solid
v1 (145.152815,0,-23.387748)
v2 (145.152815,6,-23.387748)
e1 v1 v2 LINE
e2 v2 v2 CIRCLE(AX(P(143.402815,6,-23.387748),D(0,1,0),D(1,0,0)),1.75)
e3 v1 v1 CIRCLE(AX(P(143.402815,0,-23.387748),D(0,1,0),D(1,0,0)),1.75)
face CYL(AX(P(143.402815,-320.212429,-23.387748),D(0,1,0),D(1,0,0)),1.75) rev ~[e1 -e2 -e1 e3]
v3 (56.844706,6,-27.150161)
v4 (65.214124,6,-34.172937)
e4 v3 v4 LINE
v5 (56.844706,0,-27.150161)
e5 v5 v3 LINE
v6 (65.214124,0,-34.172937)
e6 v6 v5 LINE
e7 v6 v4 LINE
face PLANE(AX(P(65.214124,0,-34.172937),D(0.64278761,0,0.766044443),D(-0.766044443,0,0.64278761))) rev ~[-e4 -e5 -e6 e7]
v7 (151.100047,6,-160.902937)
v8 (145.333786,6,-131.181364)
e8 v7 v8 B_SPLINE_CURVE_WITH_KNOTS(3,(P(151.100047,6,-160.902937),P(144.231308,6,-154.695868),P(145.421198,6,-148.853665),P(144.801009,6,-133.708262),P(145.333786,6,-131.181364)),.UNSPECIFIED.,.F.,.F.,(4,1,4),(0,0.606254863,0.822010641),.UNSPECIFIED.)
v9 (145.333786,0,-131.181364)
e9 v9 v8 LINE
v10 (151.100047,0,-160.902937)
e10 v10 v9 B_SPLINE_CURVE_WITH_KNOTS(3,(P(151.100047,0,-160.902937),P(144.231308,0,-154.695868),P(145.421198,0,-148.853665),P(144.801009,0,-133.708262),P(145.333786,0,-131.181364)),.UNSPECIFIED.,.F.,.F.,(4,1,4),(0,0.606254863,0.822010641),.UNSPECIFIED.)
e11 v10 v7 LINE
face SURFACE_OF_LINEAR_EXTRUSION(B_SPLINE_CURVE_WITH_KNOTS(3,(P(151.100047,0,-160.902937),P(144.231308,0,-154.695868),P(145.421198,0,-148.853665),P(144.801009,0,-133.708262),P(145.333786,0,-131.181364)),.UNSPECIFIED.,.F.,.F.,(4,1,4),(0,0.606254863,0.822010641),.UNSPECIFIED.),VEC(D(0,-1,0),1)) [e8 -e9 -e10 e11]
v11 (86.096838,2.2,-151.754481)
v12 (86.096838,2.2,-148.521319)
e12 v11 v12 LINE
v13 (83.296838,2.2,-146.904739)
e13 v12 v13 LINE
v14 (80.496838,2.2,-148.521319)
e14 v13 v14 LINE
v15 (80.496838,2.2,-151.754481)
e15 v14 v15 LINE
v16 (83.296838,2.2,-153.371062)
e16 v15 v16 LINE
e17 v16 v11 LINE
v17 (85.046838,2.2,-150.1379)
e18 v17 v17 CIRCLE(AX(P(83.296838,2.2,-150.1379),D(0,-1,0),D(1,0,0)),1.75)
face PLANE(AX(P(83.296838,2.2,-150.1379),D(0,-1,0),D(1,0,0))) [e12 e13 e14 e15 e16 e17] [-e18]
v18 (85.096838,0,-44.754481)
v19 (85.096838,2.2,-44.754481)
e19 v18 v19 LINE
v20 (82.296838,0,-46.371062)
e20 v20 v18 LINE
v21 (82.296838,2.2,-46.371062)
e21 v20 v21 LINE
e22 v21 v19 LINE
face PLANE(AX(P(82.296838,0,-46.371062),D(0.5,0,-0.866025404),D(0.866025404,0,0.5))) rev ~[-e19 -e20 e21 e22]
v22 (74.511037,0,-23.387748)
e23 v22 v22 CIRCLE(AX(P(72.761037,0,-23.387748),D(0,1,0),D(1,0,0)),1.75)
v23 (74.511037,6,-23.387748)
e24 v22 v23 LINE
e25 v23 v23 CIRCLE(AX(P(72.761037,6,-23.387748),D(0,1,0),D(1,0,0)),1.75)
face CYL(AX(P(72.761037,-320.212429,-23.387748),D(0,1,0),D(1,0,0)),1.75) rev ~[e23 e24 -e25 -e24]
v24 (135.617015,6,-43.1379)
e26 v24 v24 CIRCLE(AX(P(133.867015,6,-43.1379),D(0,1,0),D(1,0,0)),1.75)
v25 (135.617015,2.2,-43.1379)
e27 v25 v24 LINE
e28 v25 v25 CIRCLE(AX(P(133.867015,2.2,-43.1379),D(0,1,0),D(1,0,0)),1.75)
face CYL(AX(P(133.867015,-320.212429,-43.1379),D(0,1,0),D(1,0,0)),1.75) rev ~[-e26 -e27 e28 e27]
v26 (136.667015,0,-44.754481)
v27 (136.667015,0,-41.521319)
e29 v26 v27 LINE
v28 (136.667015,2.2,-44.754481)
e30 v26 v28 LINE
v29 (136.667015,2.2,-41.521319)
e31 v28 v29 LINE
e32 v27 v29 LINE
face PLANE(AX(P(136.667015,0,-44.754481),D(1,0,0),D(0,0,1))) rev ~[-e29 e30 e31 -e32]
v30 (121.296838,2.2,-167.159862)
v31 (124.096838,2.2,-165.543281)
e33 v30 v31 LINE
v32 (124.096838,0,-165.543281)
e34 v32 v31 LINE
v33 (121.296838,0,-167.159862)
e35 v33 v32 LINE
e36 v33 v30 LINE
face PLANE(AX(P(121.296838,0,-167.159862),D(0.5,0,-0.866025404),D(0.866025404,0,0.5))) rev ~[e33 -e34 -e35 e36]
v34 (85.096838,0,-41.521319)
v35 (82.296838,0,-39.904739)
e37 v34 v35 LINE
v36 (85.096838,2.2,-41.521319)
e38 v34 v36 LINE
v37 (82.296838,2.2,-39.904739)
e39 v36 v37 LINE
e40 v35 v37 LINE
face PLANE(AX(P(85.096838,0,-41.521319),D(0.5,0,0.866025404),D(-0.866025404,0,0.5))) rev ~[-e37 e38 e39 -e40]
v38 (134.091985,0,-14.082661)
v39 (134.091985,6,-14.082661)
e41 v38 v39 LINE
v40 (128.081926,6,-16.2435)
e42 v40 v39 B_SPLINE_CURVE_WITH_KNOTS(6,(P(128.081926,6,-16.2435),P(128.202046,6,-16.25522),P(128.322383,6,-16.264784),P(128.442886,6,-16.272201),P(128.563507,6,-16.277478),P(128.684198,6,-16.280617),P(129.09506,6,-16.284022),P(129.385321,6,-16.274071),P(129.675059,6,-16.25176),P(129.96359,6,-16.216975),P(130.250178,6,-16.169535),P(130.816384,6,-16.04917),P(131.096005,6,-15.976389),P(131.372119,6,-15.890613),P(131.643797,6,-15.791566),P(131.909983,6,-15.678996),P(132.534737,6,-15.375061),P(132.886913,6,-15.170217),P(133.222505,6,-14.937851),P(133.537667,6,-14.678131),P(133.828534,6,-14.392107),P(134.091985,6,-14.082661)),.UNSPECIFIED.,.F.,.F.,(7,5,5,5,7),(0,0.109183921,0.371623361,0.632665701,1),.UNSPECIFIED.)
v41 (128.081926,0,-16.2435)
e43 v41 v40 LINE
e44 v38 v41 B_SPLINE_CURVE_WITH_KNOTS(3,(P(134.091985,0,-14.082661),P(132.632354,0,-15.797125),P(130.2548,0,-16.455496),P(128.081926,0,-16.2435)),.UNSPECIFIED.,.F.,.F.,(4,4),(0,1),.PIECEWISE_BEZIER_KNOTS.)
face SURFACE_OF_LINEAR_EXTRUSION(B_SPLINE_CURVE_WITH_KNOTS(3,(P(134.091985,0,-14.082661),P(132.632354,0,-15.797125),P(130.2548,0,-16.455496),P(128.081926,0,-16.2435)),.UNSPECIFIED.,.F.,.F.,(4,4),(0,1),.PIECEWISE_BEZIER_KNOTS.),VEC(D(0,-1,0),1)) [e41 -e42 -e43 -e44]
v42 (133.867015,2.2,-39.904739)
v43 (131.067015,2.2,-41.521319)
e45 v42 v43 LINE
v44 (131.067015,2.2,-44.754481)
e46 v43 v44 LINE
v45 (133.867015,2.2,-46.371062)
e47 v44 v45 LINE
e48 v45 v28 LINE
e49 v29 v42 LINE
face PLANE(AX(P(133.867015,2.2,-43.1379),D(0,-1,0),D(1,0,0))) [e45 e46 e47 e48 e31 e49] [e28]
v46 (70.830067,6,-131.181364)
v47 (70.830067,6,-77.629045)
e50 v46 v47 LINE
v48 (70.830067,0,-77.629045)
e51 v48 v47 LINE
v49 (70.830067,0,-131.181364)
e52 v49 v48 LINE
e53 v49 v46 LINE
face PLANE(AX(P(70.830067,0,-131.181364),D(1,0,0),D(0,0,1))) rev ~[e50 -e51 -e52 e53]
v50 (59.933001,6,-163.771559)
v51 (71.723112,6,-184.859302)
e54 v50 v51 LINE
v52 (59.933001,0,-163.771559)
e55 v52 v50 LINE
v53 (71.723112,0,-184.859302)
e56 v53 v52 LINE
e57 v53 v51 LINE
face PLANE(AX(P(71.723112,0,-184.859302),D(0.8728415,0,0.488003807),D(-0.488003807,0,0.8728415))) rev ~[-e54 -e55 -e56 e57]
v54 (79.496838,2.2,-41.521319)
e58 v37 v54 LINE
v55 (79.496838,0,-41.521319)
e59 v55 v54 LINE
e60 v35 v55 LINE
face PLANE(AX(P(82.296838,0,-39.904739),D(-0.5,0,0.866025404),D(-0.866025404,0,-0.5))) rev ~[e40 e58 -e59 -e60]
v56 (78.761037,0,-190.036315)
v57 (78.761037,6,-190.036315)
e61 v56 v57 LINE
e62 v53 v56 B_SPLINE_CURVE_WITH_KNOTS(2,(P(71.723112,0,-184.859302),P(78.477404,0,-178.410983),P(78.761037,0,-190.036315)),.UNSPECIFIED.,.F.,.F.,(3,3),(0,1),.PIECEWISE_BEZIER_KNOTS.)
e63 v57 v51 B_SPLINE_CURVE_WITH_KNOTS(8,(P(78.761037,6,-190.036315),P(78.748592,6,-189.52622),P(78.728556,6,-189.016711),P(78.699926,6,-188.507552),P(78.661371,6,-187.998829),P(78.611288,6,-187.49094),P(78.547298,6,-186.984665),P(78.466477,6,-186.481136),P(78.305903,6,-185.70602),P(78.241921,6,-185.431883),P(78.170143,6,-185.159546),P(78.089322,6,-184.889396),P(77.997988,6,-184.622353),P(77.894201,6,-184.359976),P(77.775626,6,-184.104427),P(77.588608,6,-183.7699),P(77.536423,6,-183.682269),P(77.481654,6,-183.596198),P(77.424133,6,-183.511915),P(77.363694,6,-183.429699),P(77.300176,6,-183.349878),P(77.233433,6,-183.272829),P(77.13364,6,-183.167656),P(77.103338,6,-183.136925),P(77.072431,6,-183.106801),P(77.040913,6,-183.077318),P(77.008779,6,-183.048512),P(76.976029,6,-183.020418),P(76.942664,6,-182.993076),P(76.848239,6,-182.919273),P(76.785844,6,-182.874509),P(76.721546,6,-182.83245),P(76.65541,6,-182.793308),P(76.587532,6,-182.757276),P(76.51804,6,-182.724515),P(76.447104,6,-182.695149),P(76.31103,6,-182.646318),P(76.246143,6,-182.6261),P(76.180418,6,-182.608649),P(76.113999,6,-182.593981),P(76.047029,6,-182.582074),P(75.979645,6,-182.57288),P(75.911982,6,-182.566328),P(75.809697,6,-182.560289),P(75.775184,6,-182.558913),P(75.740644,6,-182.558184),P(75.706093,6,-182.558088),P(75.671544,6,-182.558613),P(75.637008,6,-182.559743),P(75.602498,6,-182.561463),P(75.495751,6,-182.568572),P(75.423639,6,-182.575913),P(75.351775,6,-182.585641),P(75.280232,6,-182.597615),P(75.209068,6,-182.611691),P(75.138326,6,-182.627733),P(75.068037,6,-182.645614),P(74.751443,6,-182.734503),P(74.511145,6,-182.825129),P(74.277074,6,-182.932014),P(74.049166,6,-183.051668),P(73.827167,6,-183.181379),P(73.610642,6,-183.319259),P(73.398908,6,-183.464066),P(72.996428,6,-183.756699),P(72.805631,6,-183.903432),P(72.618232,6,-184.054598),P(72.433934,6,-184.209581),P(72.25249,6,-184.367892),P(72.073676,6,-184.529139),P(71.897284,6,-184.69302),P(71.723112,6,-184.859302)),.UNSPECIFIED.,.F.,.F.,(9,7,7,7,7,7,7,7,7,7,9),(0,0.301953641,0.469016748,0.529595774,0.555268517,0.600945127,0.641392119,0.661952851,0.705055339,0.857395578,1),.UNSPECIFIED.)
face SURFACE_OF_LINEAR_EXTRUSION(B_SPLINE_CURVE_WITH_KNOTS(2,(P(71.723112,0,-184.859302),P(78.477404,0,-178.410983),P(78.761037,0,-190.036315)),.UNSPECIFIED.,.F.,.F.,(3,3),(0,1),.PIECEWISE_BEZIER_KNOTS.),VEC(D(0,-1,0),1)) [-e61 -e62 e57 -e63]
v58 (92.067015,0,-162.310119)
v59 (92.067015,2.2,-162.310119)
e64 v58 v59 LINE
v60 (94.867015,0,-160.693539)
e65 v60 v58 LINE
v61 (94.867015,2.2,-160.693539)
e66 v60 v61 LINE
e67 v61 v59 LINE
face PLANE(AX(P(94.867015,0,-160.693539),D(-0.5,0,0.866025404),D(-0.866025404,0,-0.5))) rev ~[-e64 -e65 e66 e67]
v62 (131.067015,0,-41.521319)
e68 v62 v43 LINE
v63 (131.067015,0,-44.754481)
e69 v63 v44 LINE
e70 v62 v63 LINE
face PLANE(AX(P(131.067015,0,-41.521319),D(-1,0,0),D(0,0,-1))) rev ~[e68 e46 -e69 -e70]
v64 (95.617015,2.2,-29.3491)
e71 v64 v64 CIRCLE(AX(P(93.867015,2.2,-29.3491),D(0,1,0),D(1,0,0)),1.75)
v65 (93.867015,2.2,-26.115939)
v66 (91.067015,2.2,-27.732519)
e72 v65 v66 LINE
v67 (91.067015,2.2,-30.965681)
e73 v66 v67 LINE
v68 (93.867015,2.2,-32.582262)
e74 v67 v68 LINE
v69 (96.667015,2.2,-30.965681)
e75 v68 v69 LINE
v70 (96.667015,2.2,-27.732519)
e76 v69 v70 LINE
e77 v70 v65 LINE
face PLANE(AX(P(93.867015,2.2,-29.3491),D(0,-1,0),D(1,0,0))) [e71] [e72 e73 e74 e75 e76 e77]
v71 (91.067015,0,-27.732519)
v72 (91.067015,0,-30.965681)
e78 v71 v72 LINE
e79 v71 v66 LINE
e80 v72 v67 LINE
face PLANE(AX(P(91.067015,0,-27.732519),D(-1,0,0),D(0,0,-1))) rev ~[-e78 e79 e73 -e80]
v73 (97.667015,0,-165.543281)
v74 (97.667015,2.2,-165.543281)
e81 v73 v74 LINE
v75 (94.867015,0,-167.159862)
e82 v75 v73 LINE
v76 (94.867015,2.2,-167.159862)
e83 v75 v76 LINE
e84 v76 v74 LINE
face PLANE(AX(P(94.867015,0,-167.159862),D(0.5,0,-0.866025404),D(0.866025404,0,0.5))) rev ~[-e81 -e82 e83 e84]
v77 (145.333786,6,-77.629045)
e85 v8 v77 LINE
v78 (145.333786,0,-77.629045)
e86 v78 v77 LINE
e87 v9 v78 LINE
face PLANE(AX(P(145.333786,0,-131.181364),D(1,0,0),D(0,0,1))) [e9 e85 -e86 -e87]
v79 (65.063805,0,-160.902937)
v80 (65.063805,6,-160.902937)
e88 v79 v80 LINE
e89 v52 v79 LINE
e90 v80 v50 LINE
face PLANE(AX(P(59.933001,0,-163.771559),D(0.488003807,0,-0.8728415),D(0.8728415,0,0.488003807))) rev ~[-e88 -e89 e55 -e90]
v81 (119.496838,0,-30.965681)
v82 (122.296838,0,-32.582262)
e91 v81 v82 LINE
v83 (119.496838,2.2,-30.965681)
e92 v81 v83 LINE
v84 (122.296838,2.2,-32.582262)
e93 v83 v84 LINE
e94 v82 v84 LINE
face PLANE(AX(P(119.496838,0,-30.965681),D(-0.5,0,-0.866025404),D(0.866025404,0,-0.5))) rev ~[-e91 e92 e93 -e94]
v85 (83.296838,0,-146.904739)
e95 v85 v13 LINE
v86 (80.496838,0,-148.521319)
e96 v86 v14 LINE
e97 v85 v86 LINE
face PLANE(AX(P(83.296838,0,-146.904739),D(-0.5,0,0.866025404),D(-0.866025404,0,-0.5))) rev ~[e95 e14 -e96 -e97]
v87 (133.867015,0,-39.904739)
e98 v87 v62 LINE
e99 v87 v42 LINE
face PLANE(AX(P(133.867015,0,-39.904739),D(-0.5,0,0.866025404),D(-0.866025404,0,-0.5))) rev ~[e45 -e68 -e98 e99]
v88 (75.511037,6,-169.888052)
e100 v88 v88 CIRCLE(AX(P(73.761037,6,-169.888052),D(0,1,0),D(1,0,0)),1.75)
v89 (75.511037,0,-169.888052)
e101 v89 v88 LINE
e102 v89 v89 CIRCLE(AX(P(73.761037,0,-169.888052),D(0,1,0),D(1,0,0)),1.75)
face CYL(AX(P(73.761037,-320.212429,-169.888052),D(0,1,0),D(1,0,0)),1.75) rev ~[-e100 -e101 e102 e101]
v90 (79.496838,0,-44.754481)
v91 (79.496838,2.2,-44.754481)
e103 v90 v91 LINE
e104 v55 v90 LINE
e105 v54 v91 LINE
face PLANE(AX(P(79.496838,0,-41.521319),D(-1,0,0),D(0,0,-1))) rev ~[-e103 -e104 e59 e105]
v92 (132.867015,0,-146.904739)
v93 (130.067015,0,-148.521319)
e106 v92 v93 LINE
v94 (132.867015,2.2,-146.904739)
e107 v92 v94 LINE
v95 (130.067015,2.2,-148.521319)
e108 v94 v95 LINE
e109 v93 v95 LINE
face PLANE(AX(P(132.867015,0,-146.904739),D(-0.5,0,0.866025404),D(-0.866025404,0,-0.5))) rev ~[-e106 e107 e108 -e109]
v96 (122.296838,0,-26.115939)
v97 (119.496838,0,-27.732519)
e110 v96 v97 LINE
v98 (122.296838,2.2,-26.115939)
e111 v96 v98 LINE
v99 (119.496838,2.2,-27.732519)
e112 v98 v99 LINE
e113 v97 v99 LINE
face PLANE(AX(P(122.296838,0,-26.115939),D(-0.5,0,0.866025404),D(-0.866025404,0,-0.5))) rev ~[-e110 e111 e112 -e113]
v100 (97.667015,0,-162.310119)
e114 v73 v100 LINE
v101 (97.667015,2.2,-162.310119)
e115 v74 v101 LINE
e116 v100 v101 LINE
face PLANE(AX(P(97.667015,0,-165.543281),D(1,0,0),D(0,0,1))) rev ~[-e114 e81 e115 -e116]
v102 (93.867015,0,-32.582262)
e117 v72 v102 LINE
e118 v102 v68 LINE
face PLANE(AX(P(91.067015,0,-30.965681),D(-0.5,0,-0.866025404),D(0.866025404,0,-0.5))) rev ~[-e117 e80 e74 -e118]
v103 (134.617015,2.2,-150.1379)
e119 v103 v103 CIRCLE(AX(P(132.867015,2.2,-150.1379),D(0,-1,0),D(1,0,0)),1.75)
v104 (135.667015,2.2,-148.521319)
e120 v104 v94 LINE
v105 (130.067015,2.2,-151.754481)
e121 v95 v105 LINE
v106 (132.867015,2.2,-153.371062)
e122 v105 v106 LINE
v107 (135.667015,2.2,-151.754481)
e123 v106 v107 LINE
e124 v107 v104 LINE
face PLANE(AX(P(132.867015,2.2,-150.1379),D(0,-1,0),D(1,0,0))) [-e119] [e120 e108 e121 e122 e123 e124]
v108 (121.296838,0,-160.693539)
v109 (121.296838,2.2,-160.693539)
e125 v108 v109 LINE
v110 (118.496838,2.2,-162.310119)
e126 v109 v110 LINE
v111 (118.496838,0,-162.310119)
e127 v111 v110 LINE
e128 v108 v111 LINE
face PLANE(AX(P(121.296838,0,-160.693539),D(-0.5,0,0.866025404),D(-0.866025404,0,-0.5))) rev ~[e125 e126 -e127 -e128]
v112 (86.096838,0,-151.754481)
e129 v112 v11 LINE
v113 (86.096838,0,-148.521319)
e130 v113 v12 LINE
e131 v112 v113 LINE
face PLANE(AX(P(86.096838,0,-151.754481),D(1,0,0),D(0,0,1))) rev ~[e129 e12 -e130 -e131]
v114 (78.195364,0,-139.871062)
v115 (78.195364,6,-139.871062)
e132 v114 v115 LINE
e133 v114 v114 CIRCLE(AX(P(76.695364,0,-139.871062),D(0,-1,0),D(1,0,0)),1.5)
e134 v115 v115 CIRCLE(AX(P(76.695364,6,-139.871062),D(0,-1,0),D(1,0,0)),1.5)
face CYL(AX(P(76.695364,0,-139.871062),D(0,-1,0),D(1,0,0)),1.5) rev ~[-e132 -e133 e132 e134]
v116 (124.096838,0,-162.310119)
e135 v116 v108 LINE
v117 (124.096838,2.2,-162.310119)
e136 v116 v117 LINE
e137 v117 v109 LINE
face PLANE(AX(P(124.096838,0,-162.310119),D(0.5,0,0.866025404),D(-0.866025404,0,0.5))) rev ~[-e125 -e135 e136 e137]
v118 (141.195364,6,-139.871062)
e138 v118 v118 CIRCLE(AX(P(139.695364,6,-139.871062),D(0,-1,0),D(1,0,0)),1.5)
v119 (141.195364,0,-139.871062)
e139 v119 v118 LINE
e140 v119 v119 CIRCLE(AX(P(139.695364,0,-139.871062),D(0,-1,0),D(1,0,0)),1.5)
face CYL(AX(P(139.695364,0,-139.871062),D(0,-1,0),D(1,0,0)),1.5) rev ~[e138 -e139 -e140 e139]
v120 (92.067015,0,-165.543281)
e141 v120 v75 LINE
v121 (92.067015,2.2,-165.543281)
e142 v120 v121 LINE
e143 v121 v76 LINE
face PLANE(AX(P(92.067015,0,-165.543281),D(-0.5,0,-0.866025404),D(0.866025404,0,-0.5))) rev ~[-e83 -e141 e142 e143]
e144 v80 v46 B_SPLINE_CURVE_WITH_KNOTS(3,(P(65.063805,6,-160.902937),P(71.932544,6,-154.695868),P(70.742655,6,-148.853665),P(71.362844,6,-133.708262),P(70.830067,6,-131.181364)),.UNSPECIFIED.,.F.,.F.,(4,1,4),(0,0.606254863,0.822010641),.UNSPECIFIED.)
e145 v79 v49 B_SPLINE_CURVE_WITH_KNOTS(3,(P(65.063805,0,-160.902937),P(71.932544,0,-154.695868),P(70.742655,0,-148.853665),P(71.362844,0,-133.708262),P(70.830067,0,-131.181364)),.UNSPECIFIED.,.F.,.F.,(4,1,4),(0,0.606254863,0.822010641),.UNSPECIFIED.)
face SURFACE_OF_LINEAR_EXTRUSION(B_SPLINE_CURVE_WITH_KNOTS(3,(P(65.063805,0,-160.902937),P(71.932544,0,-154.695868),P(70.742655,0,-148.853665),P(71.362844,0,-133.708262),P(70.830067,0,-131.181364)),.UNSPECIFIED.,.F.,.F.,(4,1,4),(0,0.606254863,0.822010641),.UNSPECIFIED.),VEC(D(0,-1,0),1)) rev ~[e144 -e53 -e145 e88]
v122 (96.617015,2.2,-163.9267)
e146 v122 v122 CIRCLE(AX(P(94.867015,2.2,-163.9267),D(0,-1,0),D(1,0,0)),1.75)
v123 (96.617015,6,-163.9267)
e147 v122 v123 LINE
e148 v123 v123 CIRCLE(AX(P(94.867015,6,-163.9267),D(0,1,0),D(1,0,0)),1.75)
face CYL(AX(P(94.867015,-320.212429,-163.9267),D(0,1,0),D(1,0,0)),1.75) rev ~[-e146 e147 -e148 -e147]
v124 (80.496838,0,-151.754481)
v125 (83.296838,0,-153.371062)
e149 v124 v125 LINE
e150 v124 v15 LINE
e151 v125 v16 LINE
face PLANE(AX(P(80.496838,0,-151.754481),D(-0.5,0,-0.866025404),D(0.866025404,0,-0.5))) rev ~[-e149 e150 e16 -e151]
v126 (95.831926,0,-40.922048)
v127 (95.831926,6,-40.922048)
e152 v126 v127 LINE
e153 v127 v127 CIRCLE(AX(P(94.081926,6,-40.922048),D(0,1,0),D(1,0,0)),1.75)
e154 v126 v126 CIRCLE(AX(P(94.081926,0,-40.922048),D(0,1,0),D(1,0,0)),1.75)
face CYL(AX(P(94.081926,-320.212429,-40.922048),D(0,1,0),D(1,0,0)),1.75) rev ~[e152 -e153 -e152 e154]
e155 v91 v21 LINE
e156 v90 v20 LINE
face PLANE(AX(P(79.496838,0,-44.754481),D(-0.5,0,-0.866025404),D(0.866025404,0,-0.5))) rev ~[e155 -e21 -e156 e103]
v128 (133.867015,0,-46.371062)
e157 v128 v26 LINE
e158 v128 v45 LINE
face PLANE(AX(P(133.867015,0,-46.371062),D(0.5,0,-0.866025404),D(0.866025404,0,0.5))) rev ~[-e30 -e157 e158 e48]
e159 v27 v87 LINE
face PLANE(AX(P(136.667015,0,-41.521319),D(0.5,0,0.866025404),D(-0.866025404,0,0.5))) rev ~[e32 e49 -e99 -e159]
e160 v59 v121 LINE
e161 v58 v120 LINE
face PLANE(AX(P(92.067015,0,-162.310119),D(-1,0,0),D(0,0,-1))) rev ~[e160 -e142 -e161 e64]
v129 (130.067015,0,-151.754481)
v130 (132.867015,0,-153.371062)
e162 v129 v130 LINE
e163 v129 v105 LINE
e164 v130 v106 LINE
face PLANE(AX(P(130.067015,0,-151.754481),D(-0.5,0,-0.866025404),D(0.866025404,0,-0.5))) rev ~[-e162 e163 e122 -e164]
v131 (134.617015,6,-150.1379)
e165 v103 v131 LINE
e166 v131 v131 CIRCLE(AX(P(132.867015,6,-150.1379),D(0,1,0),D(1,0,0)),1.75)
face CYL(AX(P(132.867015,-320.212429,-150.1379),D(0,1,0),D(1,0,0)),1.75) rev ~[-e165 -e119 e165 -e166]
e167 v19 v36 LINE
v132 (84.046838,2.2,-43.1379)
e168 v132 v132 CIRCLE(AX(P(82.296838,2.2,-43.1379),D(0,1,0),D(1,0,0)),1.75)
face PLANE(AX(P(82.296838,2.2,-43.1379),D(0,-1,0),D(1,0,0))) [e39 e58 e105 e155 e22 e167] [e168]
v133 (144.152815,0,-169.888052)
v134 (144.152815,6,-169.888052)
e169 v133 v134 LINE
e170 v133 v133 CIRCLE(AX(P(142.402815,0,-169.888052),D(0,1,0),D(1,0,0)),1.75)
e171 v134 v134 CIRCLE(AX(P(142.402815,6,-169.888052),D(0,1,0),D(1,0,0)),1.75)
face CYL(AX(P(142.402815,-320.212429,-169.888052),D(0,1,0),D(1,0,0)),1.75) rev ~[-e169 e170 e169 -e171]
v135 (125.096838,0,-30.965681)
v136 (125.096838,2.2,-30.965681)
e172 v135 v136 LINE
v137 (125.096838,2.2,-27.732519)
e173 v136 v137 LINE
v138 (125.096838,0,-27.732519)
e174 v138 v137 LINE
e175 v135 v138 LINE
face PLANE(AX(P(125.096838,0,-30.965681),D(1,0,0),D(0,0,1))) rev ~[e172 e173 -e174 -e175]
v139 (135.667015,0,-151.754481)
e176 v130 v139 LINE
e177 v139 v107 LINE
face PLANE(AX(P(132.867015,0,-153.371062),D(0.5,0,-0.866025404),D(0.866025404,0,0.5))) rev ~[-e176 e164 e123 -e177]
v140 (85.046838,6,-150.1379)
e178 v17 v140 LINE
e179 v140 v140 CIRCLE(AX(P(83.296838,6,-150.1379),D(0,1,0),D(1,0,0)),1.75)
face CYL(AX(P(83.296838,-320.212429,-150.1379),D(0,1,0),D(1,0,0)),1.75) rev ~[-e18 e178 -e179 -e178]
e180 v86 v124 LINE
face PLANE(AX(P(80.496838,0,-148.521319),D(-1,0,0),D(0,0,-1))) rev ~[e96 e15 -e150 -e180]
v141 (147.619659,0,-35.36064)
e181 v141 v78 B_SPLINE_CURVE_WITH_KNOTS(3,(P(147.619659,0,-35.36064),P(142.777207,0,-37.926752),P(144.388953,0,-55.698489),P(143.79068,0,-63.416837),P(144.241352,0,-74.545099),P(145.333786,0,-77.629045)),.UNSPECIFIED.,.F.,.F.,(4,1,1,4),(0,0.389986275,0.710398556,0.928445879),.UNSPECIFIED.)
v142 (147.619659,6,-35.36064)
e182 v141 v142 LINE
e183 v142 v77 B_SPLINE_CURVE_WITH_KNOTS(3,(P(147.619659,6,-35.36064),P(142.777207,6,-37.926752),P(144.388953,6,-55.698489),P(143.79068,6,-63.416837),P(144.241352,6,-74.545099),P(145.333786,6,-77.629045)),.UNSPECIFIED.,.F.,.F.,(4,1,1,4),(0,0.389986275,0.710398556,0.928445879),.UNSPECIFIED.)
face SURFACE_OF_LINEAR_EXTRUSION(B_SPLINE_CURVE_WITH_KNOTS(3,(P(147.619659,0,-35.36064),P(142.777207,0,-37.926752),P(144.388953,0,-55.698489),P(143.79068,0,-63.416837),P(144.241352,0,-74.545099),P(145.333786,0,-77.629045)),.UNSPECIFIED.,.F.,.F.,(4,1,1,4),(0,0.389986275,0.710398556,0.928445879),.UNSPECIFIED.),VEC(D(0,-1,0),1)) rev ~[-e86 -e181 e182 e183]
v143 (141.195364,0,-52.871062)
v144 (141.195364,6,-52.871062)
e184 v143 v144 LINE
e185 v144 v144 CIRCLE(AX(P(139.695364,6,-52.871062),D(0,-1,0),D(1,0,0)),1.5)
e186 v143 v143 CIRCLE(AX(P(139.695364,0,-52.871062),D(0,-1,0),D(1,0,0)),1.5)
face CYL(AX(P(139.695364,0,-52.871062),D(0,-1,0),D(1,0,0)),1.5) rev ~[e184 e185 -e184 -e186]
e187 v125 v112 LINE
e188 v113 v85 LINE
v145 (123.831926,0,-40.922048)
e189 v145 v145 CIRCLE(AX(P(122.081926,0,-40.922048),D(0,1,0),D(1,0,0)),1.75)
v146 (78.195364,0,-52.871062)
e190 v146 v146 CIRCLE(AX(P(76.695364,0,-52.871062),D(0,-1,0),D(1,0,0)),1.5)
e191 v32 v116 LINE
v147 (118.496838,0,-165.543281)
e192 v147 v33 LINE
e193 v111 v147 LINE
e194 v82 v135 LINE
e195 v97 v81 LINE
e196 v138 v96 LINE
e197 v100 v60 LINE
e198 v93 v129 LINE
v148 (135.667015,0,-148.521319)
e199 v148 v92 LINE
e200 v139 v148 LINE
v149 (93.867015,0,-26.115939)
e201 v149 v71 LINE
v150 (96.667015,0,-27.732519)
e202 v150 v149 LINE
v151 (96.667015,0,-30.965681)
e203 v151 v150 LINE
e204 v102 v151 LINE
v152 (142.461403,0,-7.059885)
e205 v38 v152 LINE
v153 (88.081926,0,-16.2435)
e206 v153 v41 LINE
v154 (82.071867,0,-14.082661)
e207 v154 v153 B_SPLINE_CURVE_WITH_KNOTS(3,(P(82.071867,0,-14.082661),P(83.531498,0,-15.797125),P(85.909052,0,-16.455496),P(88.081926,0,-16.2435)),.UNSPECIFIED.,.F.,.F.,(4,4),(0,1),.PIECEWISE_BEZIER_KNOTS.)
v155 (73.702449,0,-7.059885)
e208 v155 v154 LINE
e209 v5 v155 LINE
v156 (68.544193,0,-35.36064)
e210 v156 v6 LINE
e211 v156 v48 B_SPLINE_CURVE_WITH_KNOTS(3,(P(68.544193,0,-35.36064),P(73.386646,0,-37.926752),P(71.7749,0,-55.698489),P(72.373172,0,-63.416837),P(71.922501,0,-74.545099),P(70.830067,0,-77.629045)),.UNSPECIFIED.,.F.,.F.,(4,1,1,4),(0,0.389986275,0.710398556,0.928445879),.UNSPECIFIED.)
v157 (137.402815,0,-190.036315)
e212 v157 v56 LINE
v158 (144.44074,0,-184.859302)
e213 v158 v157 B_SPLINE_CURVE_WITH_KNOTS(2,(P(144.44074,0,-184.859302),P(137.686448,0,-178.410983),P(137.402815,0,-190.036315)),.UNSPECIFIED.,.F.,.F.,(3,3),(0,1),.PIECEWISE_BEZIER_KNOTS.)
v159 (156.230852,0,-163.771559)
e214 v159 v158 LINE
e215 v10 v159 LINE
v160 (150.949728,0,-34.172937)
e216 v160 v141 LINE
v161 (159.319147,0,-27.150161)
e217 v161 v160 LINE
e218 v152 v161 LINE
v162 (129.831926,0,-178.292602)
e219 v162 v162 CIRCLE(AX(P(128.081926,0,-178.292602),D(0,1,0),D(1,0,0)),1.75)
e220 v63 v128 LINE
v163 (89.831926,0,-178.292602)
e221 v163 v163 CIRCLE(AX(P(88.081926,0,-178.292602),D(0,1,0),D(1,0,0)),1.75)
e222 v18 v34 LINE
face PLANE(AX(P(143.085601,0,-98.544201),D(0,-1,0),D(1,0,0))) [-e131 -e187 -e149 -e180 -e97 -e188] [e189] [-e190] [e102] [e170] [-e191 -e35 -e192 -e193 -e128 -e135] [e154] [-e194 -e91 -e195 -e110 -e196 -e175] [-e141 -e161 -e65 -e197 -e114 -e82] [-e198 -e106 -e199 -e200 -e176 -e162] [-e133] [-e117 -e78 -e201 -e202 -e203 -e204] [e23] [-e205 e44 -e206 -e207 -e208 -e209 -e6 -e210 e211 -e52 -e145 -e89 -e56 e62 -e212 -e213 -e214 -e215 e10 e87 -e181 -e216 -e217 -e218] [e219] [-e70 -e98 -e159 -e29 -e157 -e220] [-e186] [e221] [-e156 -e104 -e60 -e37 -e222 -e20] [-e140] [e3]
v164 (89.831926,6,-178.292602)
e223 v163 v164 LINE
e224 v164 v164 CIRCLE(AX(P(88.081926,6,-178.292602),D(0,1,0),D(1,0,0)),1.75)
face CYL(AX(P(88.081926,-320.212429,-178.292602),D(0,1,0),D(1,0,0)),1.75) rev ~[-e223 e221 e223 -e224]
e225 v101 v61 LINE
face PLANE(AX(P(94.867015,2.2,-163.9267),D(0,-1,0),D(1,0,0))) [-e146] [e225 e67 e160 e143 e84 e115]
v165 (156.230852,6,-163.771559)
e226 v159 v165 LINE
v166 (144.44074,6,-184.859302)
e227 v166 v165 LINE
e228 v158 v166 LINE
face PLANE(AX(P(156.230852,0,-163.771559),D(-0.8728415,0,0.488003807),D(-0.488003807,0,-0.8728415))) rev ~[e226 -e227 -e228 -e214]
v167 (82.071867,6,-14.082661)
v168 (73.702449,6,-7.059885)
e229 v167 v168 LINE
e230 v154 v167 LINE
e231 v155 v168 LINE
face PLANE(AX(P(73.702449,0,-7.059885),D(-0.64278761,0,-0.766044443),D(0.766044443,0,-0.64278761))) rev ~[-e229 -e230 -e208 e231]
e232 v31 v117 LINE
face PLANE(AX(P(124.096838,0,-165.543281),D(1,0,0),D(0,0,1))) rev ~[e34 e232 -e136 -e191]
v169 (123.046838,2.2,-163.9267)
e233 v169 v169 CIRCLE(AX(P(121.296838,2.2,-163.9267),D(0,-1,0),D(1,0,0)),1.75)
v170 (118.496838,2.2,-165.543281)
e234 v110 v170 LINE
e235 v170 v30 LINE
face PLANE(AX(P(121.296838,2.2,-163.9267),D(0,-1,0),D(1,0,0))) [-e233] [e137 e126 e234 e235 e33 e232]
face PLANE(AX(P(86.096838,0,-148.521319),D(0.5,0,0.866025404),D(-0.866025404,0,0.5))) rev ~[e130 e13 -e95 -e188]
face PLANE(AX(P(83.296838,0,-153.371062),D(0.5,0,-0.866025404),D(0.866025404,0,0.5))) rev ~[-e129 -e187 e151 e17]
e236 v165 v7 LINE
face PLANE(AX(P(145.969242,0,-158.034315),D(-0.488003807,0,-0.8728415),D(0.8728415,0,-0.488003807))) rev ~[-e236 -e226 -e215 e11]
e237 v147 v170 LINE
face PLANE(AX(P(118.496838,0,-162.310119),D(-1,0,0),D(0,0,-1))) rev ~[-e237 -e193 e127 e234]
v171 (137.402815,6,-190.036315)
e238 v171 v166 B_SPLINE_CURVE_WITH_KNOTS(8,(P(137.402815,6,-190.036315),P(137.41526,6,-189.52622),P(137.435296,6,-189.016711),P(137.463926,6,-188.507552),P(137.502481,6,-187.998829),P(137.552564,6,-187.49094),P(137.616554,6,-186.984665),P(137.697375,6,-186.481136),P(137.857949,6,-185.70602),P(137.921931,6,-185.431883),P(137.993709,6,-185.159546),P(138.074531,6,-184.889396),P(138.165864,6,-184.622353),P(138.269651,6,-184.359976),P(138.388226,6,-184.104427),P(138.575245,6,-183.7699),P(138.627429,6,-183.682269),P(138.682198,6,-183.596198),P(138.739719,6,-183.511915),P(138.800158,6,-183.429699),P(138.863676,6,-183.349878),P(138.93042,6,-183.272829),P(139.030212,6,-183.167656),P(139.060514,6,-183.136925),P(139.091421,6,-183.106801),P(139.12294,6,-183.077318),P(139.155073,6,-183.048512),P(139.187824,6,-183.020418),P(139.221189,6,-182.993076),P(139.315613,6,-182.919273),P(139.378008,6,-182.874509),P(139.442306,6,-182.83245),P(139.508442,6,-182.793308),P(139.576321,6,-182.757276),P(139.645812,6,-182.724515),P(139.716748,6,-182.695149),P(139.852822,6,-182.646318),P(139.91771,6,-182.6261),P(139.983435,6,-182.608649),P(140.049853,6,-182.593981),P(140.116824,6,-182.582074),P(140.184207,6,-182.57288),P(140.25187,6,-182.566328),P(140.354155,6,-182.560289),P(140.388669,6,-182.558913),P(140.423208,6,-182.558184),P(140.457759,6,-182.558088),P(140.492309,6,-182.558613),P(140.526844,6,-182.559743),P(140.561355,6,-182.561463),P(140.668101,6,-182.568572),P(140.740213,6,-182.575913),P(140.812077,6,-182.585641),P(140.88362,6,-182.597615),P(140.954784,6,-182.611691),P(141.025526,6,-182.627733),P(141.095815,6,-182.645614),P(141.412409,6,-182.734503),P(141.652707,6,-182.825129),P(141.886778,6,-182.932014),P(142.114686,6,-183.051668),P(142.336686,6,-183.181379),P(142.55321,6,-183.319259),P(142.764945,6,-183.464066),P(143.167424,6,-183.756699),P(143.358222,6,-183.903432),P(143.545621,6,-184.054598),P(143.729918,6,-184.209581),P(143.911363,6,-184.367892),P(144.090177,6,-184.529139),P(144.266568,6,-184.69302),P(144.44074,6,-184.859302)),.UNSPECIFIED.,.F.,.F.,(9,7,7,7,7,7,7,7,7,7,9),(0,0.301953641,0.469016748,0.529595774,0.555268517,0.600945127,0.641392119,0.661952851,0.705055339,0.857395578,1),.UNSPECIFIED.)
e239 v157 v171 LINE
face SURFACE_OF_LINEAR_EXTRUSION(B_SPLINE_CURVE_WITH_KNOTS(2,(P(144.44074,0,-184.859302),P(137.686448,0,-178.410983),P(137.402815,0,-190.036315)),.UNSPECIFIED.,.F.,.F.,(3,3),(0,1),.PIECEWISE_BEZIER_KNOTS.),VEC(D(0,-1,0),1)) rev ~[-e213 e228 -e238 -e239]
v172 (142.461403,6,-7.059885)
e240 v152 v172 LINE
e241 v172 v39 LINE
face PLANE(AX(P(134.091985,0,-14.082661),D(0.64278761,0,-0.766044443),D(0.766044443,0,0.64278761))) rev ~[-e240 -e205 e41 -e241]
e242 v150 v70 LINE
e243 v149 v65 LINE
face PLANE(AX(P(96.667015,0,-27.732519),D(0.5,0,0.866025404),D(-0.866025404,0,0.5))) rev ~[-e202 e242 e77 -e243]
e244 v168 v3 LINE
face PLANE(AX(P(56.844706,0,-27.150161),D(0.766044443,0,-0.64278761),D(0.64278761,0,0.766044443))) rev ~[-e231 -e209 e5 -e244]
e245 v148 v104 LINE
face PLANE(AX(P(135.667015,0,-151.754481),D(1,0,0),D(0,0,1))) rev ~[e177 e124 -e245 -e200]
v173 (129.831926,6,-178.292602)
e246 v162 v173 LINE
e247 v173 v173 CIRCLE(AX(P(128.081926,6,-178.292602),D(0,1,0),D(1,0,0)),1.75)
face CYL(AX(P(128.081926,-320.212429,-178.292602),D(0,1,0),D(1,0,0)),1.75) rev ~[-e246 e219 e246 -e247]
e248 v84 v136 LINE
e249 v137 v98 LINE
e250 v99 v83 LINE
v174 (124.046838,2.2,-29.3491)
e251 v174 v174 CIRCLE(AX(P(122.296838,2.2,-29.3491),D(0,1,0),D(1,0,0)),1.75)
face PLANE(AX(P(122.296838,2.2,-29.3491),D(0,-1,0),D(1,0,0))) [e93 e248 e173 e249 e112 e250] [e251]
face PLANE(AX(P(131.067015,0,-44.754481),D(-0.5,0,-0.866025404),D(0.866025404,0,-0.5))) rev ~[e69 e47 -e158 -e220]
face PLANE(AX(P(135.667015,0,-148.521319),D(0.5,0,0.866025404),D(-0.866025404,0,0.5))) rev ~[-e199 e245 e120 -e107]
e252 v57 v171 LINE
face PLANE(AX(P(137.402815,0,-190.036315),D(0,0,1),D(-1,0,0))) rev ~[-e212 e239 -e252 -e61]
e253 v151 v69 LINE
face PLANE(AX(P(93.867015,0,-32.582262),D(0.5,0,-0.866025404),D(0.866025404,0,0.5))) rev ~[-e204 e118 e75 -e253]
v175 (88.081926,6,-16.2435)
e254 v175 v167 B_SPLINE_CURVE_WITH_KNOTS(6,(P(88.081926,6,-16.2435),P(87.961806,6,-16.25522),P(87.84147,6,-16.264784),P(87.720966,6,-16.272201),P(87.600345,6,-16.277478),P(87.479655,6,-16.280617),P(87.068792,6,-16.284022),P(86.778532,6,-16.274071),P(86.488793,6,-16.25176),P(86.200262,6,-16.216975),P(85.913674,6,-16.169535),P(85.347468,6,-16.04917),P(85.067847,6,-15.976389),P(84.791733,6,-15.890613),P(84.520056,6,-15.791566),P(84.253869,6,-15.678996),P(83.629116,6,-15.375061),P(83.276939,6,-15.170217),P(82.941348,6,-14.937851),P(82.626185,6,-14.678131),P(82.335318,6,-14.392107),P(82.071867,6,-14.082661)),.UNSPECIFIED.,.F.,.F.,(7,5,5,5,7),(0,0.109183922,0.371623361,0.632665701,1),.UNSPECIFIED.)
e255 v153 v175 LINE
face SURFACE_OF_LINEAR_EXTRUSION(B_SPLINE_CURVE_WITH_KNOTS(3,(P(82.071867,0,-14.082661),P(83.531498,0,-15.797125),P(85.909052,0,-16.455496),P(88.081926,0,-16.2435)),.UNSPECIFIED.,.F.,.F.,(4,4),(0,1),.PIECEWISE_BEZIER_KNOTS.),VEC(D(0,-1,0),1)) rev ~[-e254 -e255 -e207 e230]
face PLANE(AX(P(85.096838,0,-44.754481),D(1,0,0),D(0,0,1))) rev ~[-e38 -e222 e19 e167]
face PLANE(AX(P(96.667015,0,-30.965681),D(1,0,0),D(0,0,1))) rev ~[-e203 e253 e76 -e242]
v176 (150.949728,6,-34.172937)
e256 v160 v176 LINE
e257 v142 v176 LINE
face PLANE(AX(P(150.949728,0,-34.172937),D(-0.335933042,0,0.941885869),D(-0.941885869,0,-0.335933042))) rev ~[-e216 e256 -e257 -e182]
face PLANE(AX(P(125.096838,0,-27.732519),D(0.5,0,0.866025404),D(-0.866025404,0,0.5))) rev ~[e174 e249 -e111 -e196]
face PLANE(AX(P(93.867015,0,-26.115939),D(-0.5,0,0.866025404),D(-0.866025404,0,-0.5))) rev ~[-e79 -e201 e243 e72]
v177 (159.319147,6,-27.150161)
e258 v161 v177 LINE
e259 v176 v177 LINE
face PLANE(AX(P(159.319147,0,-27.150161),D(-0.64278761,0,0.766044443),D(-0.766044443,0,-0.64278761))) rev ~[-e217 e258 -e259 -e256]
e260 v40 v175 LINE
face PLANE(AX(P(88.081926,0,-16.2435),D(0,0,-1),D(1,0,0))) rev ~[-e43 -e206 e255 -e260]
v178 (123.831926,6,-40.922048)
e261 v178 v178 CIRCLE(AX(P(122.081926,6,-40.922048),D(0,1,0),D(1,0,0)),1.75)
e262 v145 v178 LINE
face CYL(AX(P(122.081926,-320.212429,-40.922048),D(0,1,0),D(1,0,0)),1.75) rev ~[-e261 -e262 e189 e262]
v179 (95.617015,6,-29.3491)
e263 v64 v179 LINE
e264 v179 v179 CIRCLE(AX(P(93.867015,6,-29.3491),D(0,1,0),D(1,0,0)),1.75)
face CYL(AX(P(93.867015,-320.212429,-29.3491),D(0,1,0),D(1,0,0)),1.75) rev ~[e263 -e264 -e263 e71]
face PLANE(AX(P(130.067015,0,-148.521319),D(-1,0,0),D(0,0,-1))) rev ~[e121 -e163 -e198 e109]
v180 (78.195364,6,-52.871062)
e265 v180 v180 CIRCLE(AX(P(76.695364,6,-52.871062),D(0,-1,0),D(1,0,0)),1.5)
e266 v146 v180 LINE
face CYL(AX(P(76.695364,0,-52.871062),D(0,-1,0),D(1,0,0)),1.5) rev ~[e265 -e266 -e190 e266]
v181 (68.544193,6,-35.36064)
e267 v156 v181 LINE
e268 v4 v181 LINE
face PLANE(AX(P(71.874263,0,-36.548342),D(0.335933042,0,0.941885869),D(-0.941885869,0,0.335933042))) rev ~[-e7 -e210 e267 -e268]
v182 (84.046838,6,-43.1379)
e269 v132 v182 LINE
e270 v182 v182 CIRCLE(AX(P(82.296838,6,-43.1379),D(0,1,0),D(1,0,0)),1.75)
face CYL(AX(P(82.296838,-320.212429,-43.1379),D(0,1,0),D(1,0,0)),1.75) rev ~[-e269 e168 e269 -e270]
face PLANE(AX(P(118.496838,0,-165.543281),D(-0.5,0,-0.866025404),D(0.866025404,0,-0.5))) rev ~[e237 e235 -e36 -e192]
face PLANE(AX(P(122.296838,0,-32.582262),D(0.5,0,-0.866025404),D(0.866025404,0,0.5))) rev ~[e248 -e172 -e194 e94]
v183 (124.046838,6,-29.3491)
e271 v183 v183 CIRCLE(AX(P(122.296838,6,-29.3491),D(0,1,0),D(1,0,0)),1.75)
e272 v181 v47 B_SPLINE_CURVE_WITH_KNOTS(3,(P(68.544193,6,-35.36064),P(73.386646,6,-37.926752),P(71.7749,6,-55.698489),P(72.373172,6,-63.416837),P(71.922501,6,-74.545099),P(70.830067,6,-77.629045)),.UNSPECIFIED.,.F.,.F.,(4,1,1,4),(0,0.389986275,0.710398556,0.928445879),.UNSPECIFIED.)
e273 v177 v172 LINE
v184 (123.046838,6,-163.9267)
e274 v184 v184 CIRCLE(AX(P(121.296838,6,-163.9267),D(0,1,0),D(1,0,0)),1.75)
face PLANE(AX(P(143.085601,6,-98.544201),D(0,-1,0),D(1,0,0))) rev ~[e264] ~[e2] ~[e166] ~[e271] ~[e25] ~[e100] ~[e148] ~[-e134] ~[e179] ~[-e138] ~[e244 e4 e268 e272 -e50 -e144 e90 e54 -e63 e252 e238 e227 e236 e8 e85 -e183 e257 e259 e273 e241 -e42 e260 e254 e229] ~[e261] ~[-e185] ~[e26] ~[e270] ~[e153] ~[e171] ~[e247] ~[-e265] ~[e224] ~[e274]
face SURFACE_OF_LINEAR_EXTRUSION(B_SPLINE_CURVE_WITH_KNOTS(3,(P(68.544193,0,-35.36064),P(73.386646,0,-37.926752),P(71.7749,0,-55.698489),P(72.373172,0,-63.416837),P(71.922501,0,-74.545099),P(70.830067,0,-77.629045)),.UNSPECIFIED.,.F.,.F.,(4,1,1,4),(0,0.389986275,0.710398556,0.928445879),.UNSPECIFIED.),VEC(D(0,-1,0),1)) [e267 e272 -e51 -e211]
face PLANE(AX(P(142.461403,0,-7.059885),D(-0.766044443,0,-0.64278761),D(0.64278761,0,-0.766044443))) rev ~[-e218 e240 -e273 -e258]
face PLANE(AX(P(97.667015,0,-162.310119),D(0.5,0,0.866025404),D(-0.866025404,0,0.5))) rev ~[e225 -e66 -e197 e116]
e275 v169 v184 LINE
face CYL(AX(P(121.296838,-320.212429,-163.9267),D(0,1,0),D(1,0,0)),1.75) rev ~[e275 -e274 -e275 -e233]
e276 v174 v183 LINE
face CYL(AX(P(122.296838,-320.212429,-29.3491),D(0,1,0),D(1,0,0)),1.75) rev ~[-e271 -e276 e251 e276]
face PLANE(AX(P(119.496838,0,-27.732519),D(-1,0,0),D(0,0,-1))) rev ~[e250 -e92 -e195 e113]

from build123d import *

# Parameters (mm, degrees)
SKETCH1_W               = 200
SKETCH1_H               = 250
BOSS_EXTRUDE1_DEPTH     = 6
F_3_0MM_DOWEL_HOLE1_D   = 3.5
SKETCH6_R               = 1.75
CUT_EXTRUDE3_DEPTH      = 2.2
SKETCH2_W               = 200
SKETCH2_H               = 253.519525226
CUT_EXTRUDE2_DEPTH      = 1
CUT_EXTRUDE2_DEPTH_BACK = 7
BOSS_EXTRUDE3_DEPTH     = 6
SKETCH13_R              = 1.5
CUT_EXTRUDE4_DEPTH      = 1.0000001
CUT_EXTRUDE4_DEPTH_BACK = 7.0000001


with BuildPart() as part:
    # Sketch1 → Boss-Extrude1 (new body)
    with BuildSketch(Plane(origin=(0, 0, 0), x_dir=(1, 0, 0), z_dir=(0, 1, 0))):
        with Locations((100, 125)):
            Rectangle(SKETCH1_W, SKETCH1_H)
    extrude(amount=BOSS_EXTRUDE1_DEPTH)

    # Ø3.0mm Dowel Hole1 (through all)
    with Locations(Plane(origin=(0, 0, 0), x_dir=(-1, 0, 0), z_dir=(0, -1, 0))):
        with Locations((-83.29683767, 150.137900155), (-94.867014644, 163.926700131), (-121.29683767, 163.926700131), (-132.867014644, 150.137900155), (-128.081926157, 178.292602477), (-142.402815019, 169.888052337), (-88.081926157, 178.292602477), (-73.761037294, 169.888052337), (-133.867014644, 43.137900155), (-122.081926157, 40.922048355), (-122.29683767, 29.349100179), (-94.081926157, 40.922048355), (-93.867014644, 29.349100179), (-82.29683767, 43.137900155), (-72.761037294, 23.387747973), (-143.402815019, 23.387747973)):
            Hole(F_3_0MM_DOWEL_HOLE1_D / 2)

    # Sketch6 → Cut-Extrude3 (cut)
    with BuildSketch(Plane.XZ):
        Polygon((125.09683767, -27.732519425), (122.29683767, -26.115938672), (119.49683767, -27.732519425), (119.49683767, -30.965680933), (122.29683767, -32.582261686), (125.09683767, -30.965680933), align=None)
        Polygon((133.867014644, -39.904738648), (131.067014644, -41.521319401), (131.067014644, -44.754480909), (133.867014644, -46.371061663), (136.667014644, -44.754480909), (136.667014644, -41.521319401), align=None)
        Polygon((82.29683767, -39.904738648), (79.49683767, -41.521319401), (79.49683767, -44.754480909), (82.29683767, -46.371061663), (85.09683767, -44.754480909), (85.09683767, -41.521319401), align=None)
        Polygon((93.867014644, -26.115938672), (91.067014644, -27.732519425), (91.067014644, -30.965680933), (93.867014644, -32.582261686), (96.667014644, -30.965680933), (96.667014644, -27.732519425), align=None)
        Polygon((94.867014644, -160.693538624), (92.067014644, -162.310119378), (92.067014644, -165.543280885), (94.867014644, -167.159861639), (97.667014644, -165.543280885), (97.667014644, -162.310119378), align=None)
        with Locations((94.867014644, -163.926700131)):
            Circle(SKETCH6_R, mode=Mode.SUBTRACT)
        Polygon((83.29683767, -146.904738648), (80.49683767, -148.521319401), (80.49683767, -151.754480909), (83.29683767, -153.371061663), (86.09683767, -151.754480909), (86.09683767, -148.521319401), align=None)
        with Locations((83.29683767, -150.137900155)):
            Circle(SKETCH6_R, mode=Mode.SUBTRACT)
        Polygon((121.29683767, -160.693538624), (118.49683767, -162.310119378), (118.49683767, -165.543280885), (121.29683767, -167.159861639), (124.09683767, -165.543280885), (124.09683767, -162.310119378), align=None)
        with Locations((121.29683767, -163.926700131)):
            Circle(SKETCH6_R, mode=Mode.SUBTRACT)
        Polygon((132.867014644, -153.371061663), (135.667014644, -151.754480909), (135.667014644, -148.521319401), (132.867014644, -146.904738648), (130.067014644, -148.521319401), (130.067014644, -151.754480909), align=None)
        with Locations((132.867014644, -150.137900155)):
            Circle(SKETCH6_R, mode=Mode.SUBTRACT)
    extrude(amount=-CUT_EXTRUDE3_DEPTH, mode=Mode.SUBTRACT)

    # Sketch2 → Cut-Extrude2 (cut, two sides)
    with BuildSketch(Plane.XZ) as cut_extrude2_sk:
        with Locations((100, -126.759762613)):
            Rectangle(SKETCH2_W, SKETCH2_H)
        with BuildLine():
            Line((143.206271193, -38.474324409), (139.348594785, -82.567767518))
            ThreePointArc((139.348594785, -82.567767518), (143.379983208, -88.766434624), (138.333453387, -94.170886794))
            Line((138.333453387, -94.170886794), (138.081926157, -97.045856194))
            Line((138.081926157, -97.045856194), (140.863131926, -149.832051752))
            ThreePointArc((140.863131926, -149.832051752), (142.359866063, -154.590769387), (145.969242496, -158.034315287))
            Line((145.969242496, -158.034315287), (156.230851695, -163.771558937))
            Line((156.230851695, -163.771558937), (144.440739957, -184.859301843))
            add(Edge.make_bspline(
                [(144.440739957, -184.859301843), (137.686448173, -178.410982542), (137.402815019, -190.036315102)],
                knots=[0, 0, 0, 1, 1, 1], degree=2))
            Line((137.402815019, -190.036315102), (78.761037294, -190.036315102))
            add(Edge.make_bspline(
                [(71.723112356, -184.859301843), (78.47740414, -178.410982542), (78.761037294, -190.036315102)],
                knots=[0, 0, 0, 1, 1, 1], degree=2))
            Line((71.723112356, -184.859301843), (59.933000618, -163.771558937))
            Line((59.933000618, -163.771558937), (70.194609818, -158.034315287))
            ThreePointArc((70.194609818, -158.034315287), (73.803986251, -154.590769387), (75.300720388, -149.832051752))
            Line((75.300720388, -149.832051752), (78.081926157, -97.045856194))
            Line((78.081926157, -97.045856194), (77.830398926, -94.170886794))
            ThreePointArc((77.830398926, -94.170886794), (72.783869106, -88.766434624), (76.815257528, -82.567767518))
            Line((76.815257528, -82.567767518), (72.95758112, -38.474324409))
            add(Edge.make_bspline(
                [(71.87426297, -36.548342356), (73.029938343, -36.460716162), (72.980934293, -37.754807476), (72.95758112, -38.474324409)],
                knots=[0, 0, 0, 0, 1, 1, 1, 1], degree=3))
            Line((71.87426297, -36.548342356), (65.214123879, -34.172936949))
            Line((65.214123879, -34.172936949), (56.844705507, -27.15016108))
            Line((56.844705507, -27.15016108), (73.702448882, -7.059884849))
            Line((73.702448882, -7.059884849), (82.071867254, -14.082660719))
            add(Edge.make_bspline(
                [(82.071867254, -14.082660719), (83.53149801, -15.797125086), (85.909052418, -16.455495951), (88.081926157, -16.243500167)],
                knots=[0, 0, 0, 0, 1, 1, 1, 1], degree=3))
            Line((88.081926157, -16.243500167), (128.081926157, -16.243500167))
            add(Edge.make_bspline(
                [(134.09198506, -14.082660719), (132.632354304, -15.797125086), (130.254799895, -16.455495951), (128.081926157, -16.243500167)],
                knots=[0, 0, 0, 0, 1, 1, 1, 1], degree=3))
            Line((134.09198506, -14.082660719), (142.461403432, -7.059884849))
            Line((142.461403432, -7.059884849), (159.319146807, -27.15016108))
            Line((159.319146807, -27.15016108), (150.949728435, -34.172936949))
            Line((150.949728435, -34.172936949), (144.289589344, -36.548342356))
            add(Edge.make_bspline(
                [(144.289589344, -36.548342356), (143.133913971, -36.460716162), (143.182918021, -37.754807476), (143.206271193, -38.474324409)],
                knots=[0, 0, 0, 0, 1, 1, 1, 1], degree=3))
        make_face(mode=Mode.SUBTRACT)
    extrude(amount=CUT_EXTRUDE2_DEPTH, mode=Mode.SUBTRACT)
    extrude(cut_extrude2_sk.sketch, amount=-CUT_EXTRUDE2_DEPTH_BACK, mode=Mode.SUBTRACT)

    # Sketch12 → Boss-Extrude3 (add)
    with BuildSketch(Plane.XZ):
        with BuildLine():
            Line((145.333785649, -131.181364351), (145.333785649, -77.629044584))
            add(Edge.make_bspline(
                [(147.619658889, -35.360639653), (142.777206683, -37.926752291), (144.388952605, -55.69848949), (143.790680066, -63.416837485), (144.241351516, -74.545098791), (145.333785649, -77.629044584)],
                knots=[0, 0, 0, 0, 0.389986275, 0.710398556, 0.928445879, 0.928445879, 0.928445879, 0.928445879], degree=3))
            Line((147.619658889, -35.360639653), (144.289589344, -36.548342356))
            add(Edge.make_bspline(
                [(143.206271193, -38.474324409), (143.182918021, -37.754807476), (143.133913971, -36.460716162), (144.289589344, -36.548342356)],
                knots=[0, 0, 0, 0, 1, 1, 1, 1], degree=3))
            Line((143.206271193, -38.474324409), (139.348594785, -82.567767518))
            ThreePointArc((139.348594785, -82.567767518), (143.379983208, -88.766434624), (138.333453387, -94.170886794))
            Line((138.333453387, -94.170886794), (138.081926157, -97.045856194))
            Line((138.081926157, -97.045856194), (140.863131926, -149.832051752))
            ThreePointArc((140.863131926, -149.832051752), (142.359866063, -154.590769387), (145.969242496, -158.034315287))
            Line((145.969242496, -158.034315287), (151.100047096, -160.902937112))
            add(Edge.make_bspline(
                [(151.100047096, -160.902937112), (144.231308287, -154.695867795), (145.4211977, -148.853665316), (144.801008685, -133.708262299), (145.333785649, -131.181364351)],
                knots=[0, 0, 0, 0, 0.606254863, 0.822010641, 0.822010641, 0.822010641, 0.822010641], degree=3))
        make_face()
        with BuildLine():
            Line((70.830066664, -131.181364351), (70.830066664, -77.629044584))
            add(Edge.make_bspline(
                [(68.544193424, -35.360639653), (73.38664563, -37.926752291), (71.774899708, -55.69848949), (72.373172248, -63.416837485), (71.922500798, -74.545098791), (70.830066664, -77.629044584)],
                knots=[0, 0, 0, 0, 0.389986275, 0.710398556, 0.928445879, 0.928445879, 0.928445879, 0.928445879], degree=3))
            Line((68.544193424, -35.360639653), (71.87426297, -36.548342356))
            add(Edge.make_bspline(
                [(72.95758112, -38.474324409), (72.980934293, -37.754807476), (73.029938343, -36.460716162), (71.87426297, -36.548342356)],
                knots=[0, 0, 0, 0, 1, 1, 1, 1], degree=3))
            Line((72.95758112, -38.474324409), (76.815257528, -82.567767518))
            ThreePointArc((76.815257528, -82.567767518), (72.783869106, -88.766434624), (77.830398926, -94.170886794))
            Line((77.830398926, -94.170886794), (78.081926157, -97.045856194))
            Line((78.081926157, -97.045856194), (75.300720388, -149.832051752))
            ThreePointArc((75.300720388, -149.832051752), (73.803986251, -154.590769387), (70.194609818, -158.034315287))
            Line((70.194609818, -158.034315287), (65.063805218, -160.902937112))
            add(Edge.make_bspline(
                [(65.063805218, -160.902937112), (71.932544027, -154.695867795), (70.742654614, -148.853665316), (71.362843629, -133.708262299), (70.830066664, -131.181364351)],
                knots=[0, 0, 0, 0, 0.606254863, 0.822010641, 0.822010641, 0.822010641, 0.822010641], degree=3))
        make_face()
    extrude(amount=-BOSS_EXTRUDE3_DEPTH)

    # Sketch13 → Cut-Extrude4 (cut, two sides)
    with BuildSketch(Plane.XZ) as cut_extrude4_sk:
        with Locations((139.6953643, -52.871061663)):
            Circle(SKETCH13_R)
        with Locations((76.6953643, -52.871061663)):
            Circle(SKETCH13_R)
        with Locations((76.6953643, -139.871061663)):
            Circle(SKETCH13_R)
        with Locations((139.6953643, -139.871061663)):
            Circle(SKETCH13_R)
    extrude(amount=CUT_EXTRUDE4_DEPTH, mode=Mode.SUBTRACT)
    extrude(cut_extrude4_sk.sketch, amount=-CUT_EXTRUDE4_DEPTH_BACK, mode=Mode.SUBTRACT)


solid = part.part
